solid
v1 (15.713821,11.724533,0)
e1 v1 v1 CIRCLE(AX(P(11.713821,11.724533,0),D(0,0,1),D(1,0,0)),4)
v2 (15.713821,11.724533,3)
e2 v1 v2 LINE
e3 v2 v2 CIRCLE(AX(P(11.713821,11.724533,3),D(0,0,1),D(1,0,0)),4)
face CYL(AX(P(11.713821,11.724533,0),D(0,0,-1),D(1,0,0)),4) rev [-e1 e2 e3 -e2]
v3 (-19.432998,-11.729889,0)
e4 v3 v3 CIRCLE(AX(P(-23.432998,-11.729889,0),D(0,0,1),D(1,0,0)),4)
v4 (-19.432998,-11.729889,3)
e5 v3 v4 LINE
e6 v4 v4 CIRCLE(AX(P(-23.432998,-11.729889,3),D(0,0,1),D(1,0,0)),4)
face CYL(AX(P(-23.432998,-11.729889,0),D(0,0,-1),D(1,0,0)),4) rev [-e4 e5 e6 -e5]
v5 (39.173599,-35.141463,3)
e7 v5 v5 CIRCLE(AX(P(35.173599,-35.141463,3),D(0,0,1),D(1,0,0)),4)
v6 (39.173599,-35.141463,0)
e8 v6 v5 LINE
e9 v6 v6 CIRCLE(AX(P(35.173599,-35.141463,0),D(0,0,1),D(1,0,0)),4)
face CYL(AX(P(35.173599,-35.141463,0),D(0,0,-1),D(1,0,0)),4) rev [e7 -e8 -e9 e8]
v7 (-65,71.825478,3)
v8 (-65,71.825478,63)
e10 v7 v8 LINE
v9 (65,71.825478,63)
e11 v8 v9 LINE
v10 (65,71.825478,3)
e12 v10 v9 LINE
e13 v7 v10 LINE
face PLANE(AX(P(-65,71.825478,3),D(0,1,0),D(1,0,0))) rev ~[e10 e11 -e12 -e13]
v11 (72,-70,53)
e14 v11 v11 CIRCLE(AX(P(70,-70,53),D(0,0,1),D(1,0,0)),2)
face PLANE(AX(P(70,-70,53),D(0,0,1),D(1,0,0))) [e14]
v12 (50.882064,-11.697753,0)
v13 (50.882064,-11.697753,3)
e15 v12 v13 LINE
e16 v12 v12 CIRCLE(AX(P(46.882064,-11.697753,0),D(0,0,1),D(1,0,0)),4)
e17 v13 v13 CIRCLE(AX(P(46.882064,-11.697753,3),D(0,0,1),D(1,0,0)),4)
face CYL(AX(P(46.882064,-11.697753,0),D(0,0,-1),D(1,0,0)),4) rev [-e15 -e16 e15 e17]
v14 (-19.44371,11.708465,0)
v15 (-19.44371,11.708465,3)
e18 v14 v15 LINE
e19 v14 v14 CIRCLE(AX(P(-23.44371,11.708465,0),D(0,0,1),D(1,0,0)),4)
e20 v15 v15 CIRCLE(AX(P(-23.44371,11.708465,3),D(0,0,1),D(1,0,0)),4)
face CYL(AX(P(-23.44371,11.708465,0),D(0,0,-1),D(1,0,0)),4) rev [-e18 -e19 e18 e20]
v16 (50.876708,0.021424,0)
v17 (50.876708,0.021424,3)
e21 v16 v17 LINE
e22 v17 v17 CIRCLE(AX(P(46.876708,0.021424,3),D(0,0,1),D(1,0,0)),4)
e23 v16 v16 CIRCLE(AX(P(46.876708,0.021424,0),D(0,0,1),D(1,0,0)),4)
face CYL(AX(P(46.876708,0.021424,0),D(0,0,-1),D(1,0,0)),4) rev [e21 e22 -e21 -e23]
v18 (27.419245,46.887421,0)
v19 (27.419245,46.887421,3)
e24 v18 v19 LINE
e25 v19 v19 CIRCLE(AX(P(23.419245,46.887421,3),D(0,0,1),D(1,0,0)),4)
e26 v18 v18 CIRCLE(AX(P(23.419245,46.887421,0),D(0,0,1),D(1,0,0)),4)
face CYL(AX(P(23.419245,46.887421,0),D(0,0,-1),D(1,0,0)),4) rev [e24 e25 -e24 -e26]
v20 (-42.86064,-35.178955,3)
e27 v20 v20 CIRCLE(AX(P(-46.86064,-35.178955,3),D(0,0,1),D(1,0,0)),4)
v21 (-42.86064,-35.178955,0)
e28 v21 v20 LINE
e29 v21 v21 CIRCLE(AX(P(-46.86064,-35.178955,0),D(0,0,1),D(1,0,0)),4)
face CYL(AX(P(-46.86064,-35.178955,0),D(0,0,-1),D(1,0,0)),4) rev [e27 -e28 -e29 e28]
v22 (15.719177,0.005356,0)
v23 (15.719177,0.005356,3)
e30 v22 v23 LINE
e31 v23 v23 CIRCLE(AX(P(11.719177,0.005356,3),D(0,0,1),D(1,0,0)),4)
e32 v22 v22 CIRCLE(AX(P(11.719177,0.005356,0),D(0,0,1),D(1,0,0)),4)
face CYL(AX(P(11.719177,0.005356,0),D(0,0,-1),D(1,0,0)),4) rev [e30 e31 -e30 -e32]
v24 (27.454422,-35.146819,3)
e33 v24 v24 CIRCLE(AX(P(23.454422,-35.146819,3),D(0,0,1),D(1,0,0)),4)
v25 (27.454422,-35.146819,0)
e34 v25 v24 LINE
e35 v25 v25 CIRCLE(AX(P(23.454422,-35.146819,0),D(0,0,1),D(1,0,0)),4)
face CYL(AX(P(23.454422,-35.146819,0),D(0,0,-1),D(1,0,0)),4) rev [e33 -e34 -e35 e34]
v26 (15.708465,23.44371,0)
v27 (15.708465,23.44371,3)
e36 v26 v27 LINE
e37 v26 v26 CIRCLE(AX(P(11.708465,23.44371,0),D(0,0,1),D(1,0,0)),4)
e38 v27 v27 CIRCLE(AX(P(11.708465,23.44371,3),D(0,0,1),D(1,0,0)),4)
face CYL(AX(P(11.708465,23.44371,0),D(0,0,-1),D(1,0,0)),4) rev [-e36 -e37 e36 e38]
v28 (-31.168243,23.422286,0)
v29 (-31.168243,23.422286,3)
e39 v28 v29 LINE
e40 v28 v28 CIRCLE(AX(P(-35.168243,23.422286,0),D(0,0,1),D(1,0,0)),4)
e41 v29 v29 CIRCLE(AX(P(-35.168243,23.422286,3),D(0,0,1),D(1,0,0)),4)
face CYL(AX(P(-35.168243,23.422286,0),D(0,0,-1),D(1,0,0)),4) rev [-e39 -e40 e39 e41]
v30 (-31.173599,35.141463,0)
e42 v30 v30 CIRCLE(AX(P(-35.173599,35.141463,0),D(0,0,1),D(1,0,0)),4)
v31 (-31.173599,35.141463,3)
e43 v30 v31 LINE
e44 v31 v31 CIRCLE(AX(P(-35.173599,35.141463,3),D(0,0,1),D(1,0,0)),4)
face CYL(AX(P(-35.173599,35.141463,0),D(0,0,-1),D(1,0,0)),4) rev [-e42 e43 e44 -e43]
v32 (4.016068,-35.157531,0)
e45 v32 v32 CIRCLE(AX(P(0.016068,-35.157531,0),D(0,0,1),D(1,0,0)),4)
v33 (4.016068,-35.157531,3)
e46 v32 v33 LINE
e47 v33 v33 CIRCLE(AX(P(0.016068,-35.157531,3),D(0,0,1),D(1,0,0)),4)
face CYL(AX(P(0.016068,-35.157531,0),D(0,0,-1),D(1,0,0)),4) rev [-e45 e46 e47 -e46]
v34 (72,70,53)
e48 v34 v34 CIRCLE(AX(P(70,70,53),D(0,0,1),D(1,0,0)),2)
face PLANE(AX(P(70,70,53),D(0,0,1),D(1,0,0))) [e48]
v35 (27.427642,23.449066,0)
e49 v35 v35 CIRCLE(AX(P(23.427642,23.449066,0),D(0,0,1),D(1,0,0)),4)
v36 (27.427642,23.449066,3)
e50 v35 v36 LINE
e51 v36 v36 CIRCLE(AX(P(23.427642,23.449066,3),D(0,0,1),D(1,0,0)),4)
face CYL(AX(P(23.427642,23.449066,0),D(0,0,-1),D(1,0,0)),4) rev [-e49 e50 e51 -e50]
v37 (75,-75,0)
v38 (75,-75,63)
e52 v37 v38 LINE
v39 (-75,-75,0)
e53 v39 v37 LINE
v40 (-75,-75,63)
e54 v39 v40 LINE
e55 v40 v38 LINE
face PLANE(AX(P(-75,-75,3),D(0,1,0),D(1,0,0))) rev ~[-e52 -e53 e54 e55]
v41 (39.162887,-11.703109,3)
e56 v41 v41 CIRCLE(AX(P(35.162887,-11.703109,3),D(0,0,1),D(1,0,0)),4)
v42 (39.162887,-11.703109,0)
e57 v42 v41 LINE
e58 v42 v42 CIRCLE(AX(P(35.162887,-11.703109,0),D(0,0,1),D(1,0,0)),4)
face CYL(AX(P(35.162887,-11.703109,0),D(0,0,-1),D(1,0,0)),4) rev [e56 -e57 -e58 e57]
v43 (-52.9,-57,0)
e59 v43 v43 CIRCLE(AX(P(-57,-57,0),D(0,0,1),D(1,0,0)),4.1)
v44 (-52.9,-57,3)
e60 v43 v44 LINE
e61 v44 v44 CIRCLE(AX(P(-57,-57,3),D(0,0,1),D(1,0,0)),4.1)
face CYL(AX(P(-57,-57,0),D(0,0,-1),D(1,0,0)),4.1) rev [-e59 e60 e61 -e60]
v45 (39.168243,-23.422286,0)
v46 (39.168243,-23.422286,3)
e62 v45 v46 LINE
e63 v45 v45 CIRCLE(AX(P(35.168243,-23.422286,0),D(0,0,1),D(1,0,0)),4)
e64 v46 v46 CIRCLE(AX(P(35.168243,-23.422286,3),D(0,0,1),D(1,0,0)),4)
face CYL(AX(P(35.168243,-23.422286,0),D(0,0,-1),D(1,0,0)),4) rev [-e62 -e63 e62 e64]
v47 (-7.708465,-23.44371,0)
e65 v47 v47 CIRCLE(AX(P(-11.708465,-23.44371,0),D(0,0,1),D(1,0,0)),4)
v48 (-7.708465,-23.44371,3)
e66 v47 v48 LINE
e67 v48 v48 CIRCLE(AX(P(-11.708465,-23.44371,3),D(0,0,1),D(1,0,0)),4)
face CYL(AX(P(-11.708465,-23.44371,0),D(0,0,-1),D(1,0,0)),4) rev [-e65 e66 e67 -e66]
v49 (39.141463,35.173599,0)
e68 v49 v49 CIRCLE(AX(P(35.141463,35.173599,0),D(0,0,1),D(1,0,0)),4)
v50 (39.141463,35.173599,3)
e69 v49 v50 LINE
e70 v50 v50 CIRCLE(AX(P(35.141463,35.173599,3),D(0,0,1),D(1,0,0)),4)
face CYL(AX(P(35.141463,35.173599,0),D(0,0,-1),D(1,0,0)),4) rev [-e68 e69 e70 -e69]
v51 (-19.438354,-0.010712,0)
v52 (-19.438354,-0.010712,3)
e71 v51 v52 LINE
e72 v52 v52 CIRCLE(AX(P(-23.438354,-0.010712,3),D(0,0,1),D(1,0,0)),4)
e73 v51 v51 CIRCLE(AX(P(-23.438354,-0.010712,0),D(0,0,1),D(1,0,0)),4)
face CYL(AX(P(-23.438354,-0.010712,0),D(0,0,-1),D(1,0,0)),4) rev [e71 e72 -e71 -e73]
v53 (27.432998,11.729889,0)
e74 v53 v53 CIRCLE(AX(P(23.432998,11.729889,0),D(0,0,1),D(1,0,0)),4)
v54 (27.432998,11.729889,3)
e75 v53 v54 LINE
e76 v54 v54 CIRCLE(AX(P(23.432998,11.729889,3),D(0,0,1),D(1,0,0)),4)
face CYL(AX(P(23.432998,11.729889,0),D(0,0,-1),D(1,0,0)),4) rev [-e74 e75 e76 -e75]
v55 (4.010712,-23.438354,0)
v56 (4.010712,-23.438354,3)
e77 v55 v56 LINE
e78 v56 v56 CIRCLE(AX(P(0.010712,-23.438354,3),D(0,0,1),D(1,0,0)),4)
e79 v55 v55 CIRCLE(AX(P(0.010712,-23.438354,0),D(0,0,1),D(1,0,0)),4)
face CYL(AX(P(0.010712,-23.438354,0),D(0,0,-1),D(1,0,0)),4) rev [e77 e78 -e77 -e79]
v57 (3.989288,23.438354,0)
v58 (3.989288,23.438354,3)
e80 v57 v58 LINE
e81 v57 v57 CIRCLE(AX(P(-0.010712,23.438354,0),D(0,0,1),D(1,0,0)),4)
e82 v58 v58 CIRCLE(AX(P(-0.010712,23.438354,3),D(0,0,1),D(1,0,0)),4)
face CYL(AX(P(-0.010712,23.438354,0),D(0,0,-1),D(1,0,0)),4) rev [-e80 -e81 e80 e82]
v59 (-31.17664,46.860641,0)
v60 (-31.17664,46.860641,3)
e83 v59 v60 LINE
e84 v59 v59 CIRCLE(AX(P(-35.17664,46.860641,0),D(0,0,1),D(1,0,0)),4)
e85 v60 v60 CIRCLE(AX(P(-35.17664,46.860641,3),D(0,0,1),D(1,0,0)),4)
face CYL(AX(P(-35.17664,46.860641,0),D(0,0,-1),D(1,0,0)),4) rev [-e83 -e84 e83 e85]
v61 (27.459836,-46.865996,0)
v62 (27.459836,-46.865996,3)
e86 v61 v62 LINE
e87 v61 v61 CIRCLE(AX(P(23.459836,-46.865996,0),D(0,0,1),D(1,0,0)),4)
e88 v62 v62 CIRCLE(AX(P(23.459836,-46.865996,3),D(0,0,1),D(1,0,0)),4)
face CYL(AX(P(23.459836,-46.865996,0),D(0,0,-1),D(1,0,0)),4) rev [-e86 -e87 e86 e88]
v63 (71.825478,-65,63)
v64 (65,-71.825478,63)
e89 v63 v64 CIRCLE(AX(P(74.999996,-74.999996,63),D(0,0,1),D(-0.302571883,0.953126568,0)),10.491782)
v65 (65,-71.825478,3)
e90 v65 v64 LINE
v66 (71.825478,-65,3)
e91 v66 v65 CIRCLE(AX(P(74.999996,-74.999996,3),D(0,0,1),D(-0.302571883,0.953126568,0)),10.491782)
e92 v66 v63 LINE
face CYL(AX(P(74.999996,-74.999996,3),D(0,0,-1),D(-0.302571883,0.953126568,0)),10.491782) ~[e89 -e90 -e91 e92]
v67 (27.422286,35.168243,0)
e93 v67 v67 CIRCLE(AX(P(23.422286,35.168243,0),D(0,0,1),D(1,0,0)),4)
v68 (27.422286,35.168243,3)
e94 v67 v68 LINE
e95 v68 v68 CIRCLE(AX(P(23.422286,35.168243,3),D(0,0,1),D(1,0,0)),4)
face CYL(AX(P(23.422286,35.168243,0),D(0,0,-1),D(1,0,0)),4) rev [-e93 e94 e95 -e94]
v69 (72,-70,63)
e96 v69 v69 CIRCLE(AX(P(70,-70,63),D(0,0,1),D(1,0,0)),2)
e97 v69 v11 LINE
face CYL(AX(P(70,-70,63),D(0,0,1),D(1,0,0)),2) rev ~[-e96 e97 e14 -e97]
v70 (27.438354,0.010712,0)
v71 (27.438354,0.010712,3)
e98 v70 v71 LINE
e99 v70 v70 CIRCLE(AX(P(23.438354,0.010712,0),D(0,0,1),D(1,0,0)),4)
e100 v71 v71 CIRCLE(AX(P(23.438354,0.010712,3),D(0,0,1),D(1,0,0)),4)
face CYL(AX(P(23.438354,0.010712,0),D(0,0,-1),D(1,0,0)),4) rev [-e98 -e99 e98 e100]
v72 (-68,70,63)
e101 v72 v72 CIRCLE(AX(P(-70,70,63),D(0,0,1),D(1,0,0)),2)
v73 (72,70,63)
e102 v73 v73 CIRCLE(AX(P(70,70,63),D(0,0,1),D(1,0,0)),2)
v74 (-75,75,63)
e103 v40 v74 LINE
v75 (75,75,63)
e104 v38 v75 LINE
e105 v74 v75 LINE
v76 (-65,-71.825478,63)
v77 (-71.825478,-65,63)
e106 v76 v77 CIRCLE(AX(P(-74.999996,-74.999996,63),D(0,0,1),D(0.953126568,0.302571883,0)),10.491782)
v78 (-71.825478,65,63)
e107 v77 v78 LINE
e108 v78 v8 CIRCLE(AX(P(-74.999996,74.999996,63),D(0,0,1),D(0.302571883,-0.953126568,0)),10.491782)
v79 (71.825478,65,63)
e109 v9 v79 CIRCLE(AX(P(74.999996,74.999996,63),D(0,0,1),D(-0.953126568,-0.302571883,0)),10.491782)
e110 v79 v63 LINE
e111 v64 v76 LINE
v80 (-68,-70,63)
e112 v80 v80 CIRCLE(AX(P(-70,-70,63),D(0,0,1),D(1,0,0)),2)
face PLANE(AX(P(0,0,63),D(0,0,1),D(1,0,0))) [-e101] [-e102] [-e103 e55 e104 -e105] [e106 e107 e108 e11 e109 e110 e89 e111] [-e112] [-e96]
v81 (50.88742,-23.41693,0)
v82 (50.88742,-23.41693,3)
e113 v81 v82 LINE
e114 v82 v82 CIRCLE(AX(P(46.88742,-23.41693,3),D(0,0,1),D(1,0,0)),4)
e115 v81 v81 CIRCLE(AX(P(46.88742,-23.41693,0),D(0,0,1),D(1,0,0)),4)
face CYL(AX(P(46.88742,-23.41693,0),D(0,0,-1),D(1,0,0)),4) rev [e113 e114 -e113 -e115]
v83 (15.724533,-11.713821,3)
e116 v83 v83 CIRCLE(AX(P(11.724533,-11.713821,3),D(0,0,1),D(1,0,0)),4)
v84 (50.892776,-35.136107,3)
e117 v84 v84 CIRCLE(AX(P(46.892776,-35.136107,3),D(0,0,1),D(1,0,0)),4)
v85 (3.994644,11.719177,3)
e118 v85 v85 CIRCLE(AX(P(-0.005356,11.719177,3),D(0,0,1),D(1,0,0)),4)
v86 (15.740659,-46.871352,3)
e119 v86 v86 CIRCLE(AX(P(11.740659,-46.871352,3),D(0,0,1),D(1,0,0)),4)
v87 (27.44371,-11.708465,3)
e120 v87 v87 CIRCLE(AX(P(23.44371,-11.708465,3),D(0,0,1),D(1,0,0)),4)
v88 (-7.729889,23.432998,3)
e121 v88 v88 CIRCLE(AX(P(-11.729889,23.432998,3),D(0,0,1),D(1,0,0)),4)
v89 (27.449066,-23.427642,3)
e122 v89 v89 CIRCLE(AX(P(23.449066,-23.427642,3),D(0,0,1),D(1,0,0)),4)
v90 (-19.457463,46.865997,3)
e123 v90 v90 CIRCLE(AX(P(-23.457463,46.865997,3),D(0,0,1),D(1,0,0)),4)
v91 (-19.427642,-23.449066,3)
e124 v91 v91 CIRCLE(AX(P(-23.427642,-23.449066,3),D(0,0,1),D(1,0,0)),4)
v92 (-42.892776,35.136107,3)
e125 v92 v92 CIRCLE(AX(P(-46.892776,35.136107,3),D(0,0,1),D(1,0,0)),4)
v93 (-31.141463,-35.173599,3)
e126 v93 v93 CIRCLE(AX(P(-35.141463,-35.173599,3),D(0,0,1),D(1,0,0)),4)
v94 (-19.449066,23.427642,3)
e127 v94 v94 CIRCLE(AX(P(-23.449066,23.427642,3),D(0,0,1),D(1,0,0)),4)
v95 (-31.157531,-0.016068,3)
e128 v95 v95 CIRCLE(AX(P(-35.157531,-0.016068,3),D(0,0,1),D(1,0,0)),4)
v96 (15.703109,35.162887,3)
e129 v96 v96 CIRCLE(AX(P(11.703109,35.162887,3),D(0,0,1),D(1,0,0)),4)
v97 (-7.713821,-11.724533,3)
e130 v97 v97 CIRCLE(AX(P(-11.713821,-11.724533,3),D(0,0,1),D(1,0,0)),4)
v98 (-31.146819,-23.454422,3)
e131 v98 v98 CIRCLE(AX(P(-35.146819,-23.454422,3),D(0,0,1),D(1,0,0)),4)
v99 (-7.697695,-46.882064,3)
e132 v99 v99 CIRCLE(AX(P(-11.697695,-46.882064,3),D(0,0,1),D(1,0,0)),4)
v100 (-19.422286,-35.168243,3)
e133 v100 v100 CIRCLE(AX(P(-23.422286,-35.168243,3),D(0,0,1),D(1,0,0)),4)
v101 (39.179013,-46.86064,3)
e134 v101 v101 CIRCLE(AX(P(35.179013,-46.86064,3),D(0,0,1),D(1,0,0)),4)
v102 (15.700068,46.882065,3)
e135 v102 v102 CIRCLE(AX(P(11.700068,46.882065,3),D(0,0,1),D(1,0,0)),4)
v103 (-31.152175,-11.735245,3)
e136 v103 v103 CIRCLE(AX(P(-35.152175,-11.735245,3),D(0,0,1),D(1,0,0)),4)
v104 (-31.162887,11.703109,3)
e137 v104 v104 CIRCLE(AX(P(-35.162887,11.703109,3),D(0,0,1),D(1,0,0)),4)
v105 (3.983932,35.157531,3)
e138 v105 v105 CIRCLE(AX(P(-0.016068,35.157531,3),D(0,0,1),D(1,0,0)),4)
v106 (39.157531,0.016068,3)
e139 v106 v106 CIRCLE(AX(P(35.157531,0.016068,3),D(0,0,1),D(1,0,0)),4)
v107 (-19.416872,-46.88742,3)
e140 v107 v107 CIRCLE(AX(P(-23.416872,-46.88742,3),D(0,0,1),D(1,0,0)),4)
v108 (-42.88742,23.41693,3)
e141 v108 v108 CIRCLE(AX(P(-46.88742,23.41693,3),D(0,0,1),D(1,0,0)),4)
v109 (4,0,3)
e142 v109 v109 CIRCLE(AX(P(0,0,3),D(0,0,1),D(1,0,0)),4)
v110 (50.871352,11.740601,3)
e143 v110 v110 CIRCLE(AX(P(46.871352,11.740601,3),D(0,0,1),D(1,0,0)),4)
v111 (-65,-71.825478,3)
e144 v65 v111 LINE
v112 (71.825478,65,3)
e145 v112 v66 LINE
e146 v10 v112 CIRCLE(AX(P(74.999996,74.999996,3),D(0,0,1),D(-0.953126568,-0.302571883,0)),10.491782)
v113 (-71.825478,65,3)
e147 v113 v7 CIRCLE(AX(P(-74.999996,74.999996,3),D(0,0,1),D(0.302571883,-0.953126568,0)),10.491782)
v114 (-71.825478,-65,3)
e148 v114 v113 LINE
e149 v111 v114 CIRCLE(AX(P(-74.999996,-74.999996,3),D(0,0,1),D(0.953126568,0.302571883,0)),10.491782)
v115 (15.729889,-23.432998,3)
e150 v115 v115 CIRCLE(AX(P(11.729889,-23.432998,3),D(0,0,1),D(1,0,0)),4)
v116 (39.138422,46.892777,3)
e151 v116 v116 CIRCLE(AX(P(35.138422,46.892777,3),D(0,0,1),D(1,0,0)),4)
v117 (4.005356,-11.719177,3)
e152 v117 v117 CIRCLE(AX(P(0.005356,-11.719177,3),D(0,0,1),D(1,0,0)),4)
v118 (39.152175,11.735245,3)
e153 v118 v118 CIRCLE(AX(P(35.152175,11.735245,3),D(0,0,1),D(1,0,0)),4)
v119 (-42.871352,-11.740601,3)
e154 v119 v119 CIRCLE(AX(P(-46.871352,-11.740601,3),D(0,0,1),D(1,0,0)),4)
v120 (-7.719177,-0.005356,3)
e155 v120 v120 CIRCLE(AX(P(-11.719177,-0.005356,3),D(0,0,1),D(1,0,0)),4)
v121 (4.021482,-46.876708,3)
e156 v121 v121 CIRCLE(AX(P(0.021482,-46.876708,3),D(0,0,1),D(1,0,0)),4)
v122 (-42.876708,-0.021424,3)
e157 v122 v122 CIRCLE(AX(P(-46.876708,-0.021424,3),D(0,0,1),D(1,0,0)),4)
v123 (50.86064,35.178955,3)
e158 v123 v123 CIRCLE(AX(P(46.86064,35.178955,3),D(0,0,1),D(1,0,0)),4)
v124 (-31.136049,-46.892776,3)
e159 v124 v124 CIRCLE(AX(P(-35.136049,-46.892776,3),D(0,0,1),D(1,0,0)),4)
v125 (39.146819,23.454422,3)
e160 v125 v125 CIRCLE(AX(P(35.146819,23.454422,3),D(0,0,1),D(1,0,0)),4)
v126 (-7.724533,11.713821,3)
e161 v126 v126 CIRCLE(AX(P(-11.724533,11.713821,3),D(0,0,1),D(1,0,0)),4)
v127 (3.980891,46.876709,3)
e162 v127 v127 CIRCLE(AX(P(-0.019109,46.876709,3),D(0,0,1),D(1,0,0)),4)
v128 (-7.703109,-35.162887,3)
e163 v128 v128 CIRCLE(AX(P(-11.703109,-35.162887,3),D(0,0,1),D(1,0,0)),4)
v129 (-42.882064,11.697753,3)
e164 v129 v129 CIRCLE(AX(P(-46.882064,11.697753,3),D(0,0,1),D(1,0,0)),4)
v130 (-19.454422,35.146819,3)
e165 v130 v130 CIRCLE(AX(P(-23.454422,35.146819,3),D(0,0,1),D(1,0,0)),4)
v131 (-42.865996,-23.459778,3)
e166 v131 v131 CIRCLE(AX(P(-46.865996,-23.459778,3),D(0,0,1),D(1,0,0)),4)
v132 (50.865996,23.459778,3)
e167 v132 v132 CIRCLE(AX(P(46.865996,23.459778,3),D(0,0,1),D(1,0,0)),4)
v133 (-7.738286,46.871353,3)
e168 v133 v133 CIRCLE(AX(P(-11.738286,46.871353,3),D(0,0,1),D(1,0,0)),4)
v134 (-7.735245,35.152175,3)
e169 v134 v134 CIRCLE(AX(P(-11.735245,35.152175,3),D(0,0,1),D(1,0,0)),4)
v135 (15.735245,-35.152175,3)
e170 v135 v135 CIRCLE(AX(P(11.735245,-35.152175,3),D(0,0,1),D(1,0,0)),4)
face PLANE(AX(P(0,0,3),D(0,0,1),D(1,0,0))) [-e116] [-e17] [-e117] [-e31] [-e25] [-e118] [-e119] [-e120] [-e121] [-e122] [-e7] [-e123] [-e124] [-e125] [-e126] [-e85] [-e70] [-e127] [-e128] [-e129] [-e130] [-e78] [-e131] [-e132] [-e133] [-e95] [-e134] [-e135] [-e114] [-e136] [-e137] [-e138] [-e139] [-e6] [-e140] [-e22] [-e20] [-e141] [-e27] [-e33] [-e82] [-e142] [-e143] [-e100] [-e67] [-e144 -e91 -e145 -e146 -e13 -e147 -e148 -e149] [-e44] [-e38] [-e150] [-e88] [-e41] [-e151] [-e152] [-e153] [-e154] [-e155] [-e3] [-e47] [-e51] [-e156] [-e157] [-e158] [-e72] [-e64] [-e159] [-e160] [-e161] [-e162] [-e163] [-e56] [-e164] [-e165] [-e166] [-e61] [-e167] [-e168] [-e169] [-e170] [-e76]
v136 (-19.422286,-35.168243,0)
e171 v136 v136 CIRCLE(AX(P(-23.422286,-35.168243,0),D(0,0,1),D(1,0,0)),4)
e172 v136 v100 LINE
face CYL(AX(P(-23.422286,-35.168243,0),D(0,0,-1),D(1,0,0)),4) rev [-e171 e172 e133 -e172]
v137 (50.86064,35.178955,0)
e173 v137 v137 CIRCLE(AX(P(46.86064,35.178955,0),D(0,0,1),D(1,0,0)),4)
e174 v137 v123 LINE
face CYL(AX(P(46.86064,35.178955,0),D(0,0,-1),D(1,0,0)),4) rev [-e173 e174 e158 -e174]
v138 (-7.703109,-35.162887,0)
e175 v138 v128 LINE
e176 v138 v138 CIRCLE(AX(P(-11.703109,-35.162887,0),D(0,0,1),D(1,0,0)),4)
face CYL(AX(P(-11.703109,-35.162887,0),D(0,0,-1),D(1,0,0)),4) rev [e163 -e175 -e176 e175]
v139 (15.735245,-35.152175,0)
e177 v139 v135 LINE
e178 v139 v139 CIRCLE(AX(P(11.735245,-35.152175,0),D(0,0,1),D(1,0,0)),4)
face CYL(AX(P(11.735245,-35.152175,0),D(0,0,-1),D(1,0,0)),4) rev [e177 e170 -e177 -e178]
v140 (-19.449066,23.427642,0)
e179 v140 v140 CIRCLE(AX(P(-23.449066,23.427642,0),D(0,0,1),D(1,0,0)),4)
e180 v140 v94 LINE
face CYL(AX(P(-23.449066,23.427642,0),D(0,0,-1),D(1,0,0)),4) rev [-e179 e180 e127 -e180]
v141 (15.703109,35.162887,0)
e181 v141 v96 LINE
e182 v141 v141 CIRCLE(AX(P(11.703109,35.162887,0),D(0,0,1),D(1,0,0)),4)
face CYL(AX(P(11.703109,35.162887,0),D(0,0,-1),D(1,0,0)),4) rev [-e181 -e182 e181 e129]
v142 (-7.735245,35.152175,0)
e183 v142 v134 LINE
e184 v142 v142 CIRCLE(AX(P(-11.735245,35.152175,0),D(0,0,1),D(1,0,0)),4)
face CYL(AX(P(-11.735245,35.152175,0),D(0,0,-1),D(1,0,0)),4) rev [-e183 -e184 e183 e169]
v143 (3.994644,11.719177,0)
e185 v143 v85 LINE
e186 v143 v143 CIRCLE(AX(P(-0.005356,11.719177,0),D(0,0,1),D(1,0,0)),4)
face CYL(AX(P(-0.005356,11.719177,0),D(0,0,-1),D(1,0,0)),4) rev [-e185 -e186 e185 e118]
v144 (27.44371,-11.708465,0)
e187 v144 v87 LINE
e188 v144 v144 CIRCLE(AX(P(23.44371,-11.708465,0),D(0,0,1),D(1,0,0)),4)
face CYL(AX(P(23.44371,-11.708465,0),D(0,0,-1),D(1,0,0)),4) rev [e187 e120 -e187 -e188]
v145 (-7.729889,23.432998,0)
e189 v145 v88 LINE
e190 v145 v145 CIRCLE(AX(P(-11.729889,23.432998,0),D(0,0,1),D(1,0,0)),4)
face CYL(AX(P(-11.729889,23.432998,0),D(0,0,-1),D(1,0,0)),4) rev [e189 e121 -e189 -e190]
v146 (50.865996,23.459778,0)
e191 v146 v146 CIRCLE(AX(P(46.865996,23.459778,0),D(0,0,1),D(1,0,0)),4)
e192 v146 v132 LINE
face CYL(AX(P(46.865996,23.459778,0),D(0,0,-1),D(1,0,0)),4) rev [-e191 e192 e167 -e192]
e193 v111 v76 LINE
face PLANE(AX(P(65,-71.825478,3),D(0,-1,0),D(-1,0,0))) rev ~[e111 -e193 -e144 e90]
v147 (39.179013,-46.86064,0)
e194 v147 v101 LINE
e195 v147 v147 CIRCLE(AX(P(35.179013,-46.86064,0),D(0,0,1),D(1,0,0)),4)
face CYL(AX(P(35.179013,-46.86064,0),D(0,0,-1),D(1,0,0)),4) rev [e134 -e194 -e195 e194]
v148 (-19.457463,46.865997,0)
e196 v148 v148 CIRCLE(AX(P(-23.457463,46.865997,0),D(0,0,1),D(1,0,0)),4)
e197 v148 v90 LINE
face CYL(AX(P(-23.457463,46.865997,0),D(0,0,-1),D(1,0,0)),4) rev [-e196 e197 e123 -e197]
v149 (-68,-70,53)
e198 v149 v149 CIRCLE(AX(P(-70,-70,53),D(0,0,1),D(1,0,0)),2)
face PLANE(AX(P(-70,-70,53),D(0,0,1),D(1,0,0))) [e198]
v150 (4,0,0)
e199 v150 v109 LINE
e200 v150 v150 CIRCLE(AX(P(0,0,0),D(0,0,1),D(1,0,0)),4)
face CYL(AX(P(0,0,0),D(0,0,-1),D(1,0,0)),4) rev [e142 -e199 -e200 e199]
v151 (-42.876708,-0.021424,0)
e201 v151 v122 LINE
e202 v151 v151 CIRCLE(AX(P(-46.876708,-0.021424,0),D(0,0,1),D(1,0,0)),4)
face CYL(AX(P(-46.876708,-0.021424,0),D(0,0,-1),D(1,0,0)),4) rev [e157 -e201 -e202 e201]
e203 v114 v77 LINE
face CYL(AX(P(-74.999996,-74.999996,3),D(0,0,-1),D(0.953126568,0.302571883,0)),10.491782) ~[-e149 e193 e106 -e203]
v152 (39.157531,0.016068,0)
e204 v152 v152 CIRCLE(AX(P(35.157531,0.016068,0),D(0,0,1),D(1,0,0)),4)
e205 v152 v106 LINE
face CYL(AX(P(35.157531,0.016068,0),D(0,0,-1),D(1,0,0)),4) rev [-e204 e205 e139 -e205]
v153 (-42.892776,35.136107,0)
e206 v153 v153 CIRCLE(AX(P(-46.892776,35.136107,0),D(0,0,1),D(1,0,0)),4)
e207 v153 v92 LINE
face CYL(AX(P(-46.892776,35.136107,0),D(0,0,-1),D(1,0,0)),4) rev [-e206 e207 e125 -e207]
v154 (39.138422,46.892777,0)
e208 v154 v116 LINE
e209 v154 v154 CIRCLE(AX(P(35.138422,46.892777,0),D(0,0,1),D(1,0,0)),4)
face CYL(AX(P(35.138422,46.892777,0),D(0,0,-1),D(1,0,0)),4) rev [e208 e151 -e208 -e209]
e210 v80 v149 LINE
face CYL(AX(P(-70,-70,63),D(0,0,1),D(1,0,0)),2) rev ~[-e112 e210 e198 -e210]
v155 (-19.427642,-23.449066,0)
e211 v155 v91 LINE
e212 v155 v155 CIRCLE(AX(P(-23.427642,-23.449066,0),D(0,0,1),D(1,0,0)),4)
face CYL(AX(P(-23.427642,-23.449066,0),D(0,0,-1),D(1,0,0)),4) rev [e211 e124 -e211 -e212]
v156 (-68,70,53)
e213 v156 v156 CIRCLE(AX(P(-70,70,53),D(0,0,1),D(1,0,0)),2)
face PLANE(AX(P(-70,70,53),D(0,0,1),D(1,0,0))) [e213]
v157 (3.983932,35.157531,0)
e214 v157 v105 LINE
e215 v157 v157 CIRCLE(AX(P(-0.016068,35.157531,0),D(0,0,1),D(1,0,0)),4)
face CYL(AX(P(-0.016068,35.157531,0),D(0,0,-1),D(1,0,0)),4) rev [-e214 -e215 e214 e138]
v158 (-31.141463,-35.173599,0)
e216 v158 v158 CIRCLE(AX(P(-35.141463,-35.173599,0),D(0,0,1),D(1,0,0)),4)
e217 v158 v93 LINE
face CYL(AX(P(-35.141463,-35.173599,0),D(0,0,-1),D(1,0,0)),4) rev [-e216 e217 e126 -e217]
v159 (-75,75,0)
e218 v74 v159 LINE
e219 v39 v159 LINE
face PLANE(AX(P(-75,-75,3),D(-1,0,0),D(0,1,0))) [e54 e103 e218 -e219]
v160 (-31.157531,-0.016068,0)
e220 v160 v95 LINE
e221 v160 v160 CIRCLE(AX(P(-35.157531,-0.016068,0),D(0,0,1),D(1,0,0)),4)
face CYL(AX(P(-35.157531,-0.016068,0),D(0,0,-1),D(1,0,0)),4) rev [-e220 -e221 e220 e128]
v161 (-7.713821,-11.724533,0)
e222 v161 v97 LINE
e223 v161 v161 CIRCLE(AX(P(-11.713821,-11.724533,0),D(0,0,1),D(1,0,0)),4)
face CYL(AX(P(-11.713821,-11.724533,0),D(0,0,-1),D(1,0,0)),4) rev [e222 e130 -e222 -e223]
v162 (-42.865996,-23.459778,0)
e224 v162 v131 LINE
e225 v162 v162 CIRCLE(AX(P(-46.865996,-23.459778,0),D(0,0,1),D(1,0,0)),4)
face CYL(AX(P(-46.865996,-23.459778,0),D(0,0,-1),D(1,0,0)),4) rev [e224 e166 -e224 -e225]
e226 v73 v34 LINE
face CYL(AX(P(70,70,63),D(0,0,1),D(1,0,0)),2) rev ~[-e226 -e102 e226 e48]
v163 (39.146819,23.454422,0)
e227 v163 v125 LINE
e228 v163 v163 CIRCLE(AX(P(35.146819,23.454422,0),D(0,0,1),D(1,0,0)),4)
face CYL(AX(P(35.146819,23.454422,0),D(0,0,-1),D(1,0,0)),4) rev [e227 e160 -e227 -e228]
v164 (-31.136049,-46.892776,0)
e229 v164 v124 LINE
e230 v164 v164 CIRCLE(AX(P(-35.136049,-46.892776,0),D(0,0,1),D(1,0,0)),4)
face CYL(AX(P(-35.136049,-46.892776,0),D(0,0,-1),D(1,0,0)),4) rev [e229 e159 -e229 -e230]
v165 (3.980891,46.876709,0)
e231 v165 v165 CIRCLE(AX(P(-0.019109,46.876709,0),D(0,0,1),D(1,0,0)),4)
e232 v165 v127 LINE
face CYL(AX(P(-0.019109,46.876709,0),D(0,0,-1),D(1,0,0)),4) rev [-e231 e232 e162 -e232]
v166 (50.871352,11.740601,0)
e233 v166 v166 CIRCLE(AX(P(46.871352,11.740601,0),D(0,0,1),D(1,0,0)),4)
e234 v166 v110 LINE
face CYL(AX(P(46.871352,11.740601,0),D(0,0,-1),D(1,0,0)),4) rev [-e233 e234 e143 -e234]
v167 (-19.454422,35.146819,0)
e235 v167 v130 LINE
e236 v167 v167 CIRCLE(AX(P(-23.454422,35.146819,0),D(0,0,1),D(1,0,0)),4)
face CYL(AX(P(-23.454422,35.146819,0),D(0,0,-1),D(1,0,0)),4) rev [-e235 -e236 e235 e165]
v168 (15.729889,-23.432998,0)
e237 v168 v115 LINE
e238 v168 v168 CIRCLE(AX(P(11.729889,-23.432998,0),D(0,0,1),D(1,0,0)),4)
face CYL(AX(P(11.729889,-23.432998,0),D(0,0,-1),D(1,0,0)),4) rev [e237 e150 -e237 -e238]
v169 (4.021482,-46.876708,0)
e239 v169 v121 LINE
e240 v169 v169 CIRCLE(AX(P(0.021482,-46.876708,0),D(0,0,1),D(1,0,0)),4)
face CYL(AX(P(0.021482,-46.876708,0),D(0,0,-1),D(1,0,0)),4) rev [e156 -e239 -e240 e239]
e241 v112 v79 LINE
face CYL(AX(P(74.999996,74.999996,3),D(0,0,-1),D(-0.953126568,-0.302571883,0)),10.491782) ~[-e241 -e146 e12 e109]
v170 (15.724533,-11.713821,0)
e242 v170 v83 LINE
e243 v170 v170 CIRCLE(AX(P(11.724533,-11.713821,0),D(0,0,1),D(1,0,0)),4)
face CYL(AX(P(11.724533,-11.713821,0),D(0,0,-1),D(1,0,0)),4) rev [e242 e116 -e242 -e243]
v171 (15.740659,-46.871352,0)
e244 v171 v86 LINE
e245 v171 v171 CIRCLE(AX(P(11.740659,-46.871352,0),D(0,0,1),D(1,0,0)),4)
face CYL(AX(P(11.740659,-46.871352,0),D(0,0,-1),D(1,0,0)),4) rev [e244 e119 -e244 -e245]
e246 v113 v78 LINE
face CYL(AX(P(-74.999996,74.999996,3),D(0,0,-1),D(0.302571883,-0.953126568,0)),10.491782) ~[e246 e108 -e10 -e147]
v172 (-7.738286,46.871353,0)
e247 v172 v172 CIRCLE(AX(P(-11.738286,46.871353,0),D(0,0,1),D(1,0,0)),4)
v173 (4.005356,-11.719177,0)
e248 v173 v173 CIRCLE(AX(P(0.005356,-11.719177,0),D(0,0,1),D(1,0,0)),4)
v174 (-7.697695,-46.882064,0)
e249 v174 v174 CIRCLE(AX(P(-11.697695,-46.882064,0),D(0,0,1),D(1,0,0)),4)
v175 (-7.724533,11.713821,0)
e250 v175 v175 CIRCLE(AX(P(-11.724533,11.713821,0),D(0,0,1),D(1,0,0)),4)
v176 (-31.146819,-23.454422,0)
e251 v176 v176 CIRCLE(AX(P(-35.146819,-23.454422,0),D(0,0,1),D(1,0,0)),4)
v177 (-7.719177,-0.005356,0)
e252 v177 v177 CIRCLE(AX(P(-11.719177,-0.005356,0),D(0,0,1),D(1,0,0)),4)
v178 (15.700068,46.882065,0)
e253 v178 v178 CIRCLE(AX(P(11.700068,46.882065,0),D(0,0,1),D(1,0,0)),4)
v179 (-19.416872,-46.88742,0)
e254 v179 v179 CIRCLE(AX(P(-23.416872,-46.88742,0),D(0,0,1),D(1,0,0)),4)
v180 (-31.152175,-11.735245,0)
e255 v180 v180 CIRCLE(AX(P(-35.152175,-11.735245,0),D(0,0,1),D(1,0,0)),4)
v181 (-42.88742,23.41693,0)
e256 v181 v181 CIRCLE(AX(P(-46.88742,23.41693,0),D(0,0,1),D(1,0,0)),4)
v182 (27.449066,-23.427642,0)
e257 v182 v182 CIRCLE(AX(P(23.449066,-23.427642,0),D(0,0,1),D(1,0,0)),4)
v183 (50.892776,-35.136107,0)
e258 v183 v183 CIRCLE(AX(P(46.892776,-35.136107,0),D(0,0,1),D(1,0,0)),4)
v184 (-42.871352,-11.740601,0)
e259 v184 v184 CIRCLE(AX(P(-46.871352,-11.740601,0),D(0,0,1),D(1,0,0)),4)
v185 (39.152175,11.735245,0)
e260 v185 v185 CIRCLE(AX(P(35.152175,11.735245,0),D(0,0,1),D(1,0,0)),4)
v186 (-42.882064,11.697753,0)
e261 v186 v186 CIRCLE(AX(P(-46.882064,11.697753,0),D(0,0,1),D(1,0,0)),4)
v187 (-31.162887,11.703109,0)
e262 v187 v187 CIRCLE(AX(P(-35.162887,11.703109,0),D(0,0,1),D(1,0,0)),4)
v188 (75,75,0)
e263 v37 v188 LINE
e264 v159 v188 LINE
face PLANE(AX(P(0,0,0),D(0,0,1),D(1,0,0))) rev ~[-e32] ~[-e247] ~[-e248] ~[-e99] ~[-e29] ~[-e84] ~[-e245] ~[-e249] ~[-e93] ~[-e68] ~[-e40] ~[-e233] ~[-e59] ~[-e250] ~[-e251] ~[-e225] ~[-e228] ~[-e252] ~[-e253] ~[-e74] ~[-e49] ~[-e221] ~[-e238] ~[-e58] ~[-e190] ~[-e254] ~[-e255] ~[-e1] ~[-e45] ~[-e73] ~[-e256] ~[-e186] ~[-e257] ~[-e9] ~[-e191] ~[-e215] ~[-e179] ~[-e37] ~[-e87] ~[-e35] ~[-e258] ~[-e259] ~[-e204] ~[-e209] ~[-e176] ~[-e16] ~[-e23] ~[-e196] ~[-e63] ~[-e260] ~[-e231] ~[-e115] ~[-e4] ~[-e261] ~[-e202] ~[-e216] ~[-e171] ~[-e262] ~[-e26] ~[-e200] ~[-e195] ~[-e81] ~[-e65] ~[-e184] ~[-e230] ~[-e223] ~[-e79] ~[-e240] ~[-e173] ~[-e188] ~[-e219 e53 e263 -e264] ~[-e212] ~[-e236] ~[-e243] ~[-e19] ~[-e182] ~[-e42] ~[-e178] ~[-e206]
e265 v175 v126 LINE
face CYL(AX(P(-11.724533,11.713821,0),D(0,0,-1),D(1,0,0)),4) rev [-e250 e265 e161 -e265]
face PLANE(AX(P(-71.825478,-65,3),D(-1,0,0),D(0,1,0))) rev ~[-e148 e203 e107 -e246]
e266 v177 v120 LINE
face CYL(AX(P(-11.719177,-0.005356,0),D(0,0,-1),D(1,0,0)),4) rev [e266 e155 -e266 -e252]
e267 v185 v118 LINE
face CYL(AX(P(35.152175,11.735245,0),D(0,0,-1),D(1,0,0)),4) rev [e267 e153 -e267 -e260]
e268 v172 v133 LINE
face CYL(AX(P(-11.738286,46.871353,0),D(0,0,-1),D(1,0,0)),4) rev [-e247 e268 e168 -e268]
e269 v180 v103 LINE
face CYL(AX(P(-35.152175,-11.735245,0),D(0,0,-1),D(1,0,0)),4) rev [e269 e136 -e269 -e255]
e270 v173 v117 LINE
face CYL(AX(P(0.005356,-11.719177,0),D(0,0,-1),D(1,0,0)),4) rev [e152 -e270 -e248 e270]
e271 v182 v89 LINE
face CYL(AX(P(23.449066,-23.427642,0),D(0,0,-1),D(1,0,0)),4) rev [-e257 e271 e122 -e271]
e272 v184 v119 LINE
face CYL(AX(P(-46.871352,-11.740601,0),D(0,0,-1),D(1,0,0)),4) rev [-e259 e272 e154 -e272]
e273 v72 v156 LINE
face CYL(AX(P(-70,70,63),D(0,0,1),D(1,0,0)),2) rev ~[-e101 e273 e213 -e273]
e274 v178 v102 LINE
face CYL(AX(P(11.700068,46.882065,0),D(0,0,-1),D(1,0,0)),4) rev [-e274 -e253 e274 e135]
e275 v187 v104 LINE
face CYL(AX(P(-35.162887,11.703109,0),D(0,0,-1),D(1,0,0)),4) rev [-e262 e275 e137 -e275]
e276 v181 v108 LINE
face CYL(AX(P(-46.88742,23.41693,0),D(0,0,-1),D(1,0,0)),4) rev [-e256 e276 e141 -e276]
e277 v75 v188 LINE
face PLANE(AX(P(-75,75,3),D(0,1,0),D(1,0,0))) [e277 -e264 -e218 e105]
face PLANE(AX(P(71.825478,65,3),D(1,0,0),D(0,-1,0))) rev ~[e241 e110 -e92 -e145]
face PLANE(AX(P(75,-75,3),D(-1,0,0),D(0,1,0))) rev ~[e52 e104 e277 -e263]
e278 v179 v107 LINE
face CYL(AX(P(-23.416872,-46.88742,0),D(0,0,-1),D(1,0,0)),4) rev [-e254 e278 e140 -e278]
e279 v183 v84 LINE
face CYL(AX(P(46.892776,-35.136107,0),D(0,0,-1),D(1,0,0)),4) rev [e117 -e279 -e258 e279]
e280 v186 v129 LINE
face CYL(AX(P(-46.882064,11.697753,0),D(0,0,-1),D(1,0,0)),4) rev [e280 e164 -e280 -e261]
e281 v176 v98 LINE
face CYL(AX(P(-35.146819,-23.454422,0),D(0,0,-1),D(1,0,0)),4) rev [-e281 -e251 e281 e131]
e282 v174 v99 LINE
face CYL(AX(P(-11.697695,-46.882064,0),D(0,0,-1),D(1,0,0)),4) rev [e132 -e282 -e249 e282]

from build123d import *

# Parameters (mm, degrees)
SKETCH_W     = 150
SKETCH_H     = 150
SKETCH_R     = 4
SKETCH_R_2   = 4.1
PAD_DEPTH    = 3
SKETCH001_W  = 150
SKETCH001_H  = 150
PAD001_DEPTH = 60
SKETCH002_R  = 2
POCKET_DEPTH = 10


with BuildPart() as part:
    # Sketch → Pad (new body)
    with BuildSketch(Plane.XY):
        Rectangle(SKETCH_W, SKETCH_H)
        with Locations((-35.17664, 46.860641)):
            Circle(SKETCH_R, mode=Mode.SUBTRACT)
        with Locations((-23.457463, 46.865997)):
            Circle(SKETCH_R, mode=Mode.SUBTRACT)
        with Locations((-11.738286, 46.871353)):
            Circle(SKETCH_R, mode=Mode.SUBTRACT)
        with Locations((-0.019109, 46.876709)):
            Circle(SKETCH_R, mode=Mode.SUBTRACT)
        with Locations((11.700068, 46.882065)):
            Circle(SKETCH_R, mode=Mode.SUBTRACT)
        with Locations((23.419245, 46.887421)):
            Circle(SKETCH_R, mode=Mode.SUBTRACT)
        with Locations((35.138422, 46.892777)):
            Circle(SKETCH_R, mode=Mode.SUBTRACT)
        with Locations((-46.892776, 35.136107)):
            Circle(SKETCH_R, mode=Mode.SUBTRACT)
        with Locations((-35.173599, 35.141463)):
            Circle(SKETCH_R, mode=Mode.SUBTRACT)
        with Locations((-23.454422, 35.146819)):
            Circle(SKETCH_R, mode=Mode.SUBTRACT)
        with Locations((-11.735245, 35.152175)):
            Circle(SKETCH_R, mode=Mode.SUBTRACT)
        with Locations((-0.016068, 35.157531)):
            Circle(SKETCH_R, mode=Mode.SUBTRACT)
        with Locations((11.703109, 35.162887)):
            Circle(SKETCH_R, mode=Mode.SUBTRACT)
        with Locations((23.422286, 35.168243)):
            Circle(SKETCH_R, mode=Mode.SUBTRACT)
        with Locations((35.141463, 35.173599)):
            Circle(SKETCH_R, mode=Mode.SUBTRACT)
        with Locations((46.86064, 35.178955)):
            Circle(SKETCH_R, mode=Mode.SUBTRACT)
        with Locations((-46.88742, 23.41693)):
            Circle(SKETCH_R, mode=Mode.SUBTRACT)
        with Locations((-35.168243, 23.422286)):
            Circle(SKETCH_R, mode=Mode.SUBTRACT)
        with Locations((-23.449066, 23.427642)):
            Circle(SKETCH_R, mode=Mode.SUBTRACT)
        with Locations((-11.729889, 23.432998)):
            Circle(SKETCH_R, mode=Mode.SUBTRACT)
        with Locations((-0.010712, 23.438354)):
            Circle(SKETCH_R, mode=Mode.SUBTRACT)
        with Locations((11.708465, 23.44371)):
            Circle(SKETCH_R, mode=Mode.SUBTRACT)
        with Locations((23.427642, 23.449066)):
            Circle(SKETCH_R, mode=Mode.SUBTRACT)
        with Locations((35.146819, 23.454422)):
            Circle(SKETCH_R, mode=Mode.SUBTRACT)
        with Locations((46.865996, 23.459778)):
            Circle(SKETCH_R, mode=Mode.SUBTRACT)
        with Locations((-46.882064, 11.697753)):
            Circle(SKETCH_R, mode=Mode.SUBTRACT)
        with Locations((-35.162887, 11.703109)):
            Circle(SKETCH_R, mode=Mode.SUBTRACT)
        with Locations((-23.44371, 11.708465)):
            Circle(SKETCH_R, mode=Mode.SUBTRACT)
        with Locations((-11.724533, 11.713821)):
            Circle(SKETCH_R, mode=Mode.SUBTRACT)
        with Locations((-0.005356, 11.719177)):
            Circle(SKETCH_R, mode=Mode.SUBTRACT)
        with Locations((11.713821, 11.724533)):
            Circle(SKETCH_R, mode=Mode.SUBTRACT)
        with Locations((23.432998, 11.729889)):
            Circle(SKETCH_R, mode=Mode.SUBTRACT)
        with Locations((35.152175, 11.735245)):
            Circle(SKETCH_R, mode=Mode.SUBTRACT)
        with Locations((46.871352, 11.740601)):
            Circle(SKETCH_R, mode=Mode.SUBTRACT)
        with Locations((-46.876708, -0.021424)):
            Circle(SKETCH_R, mode=Mode.SUBTRACT)
        with Locations((-35.157531, -0.016068)):
            Circle(SKETCH_R, mode=Mode.SUBTRACT)
        with Locations((-23.438354, -0.010712)):
            Circle(SKETCH_R, mode=Mode.SUBTRACT)
        with Locations((-11.719177, -0.005356)):
            Circle(SKETCH_R, mode=Mode.SUBTRACT)
        Circle(SKETCH_R, mode=Mode.SUBTRACT)
        with Locations((11.719177, 0.005356)):
            Circle(SKETCH_R, mode=Mode.SUBTRACT)
        with Locations((23.438354, 0.010712)):
            Circle(SKETCH_R, mode=Mode.SUBTRACT)
        with Locations((35.157531, 0.016068)):
            Circle(SKETCH_R, mode=Mode.SUBTRACT)
        with Locations((46.876708, 0.021424)):
            Circle(SKETCH_R, mode=Mode.SUBTRACT)
        with Locations((-46.871352, -11.740601)):
            Circle(SKETCH_R, mode=Mode.SUBTRACT)
        with Locations((-35.152175, -11.735245)):
            Circle(SKETCH_R, mode=Mode.SUBTRACT)
        with Locations((-23.432998, -11.729889)):
            Circle(SKETCH_R, mode=Mode.SUBTRACT)
        with Locations((-11.713821, -11.724533)):
            Circle(SKETCH_R, mode=Mode.SUBTRACT)
        with Locations((0.005356, -11.719177)):
            Circle(SKETCH_R, mode=Mode.SUBTRACT)
        with Locations((11.724533, -11.713821)):
            Circle(SKETCH_R, mode=Mode.SUBTRACT)
        with Locations((23.44371, -11.708465)):
            Circle(SKETCH_R, mode=Mode.SUBTRACT)
        with Locations((35.162887, -11.703109)):
            Circle(SKETCH_R, mode=Mode.SUBTRACT)
        with Locations((46.882064, -11.697753)):
            Circle(SKETCH_R, mode=Mode.SUBTRACT)
        with Locations((-46.865996, -23.459778)):
            Circle(SKETCH_R, mode=Mode.SUBTRACT)
        with Locations((-35.146819, -23.454422)):
            Circle(SKETCH_R, mode=Mode.SUBTRACT)
        with Locations((-23.427642, -23.449066)):
            Circle(SKETCH_R, mode=Mode.SUBTRACT)
        with Locations((-11.708465, -23.44371)):
            Circle(SKETCH_R, mode=Mode.SUBTRACT)
        with Locations((0.010712, -23.438354)):
            Circle(SKETCH_R, mode=Mode.SUBTRACT)
        with Locations((11.729889, -23.432998)):
            Circle(SKETCH_R, mode=Mode.SUBTRACT)
        with Locations((23.449066, -23.427642)):
            Circle(SKETCH_R, mode=Mode.SUBTRACT)
        with Locations((35.168243, -23.422286)):
            Circle(SKETCH_R, mode=Mode.SUBTRACT)
        with Locations((46.88742, -23.41693)):
            Circle(SKETCH_R, mode=Mode.SUBTRACT)
        with Locations((-46.86064, -35.178955)):
            Circle(SKETCH_R, mode=Mode.SUBTRACT)
        with Locations((-35.141463, -35.173599)):
            Circle(SKETCH_R, mode=Mode.SUBTRACT)
        with Locations((-23.422286, -35.168243)):
            Circle(SKETCH_R, mode=Mode.SUBTRACT)
        with Locations((-11.703109, -35.162887)):
            Circle(SKETCH_R, mode=Mode.SUBTRACT)
        with Locations((0.016068, -35.157531)):
            Circle(SKETCH_R, mode=Mode.SUBTRACT)
        with Locations((11.735245, -35.152175)):
            Circle(SKETCH_R, mode=Mode.SUBTRACT)
        with Locations((23.454422, -35.146819)):
            Circle(SKETCH_R, mode=Mode.SUBTRACT)
        with Locations((35.173599, -35.141463)):
            Circle(SKETCH_R, mode=Mode.SUBTRACT)
        with Locations((46.892776, -35.136107)):
            Circle(SKETCH_R, mode=Mode.SUBTRACT)
        with Locations((-35.136049, -46.892776)):
            Circle(SKETCH_R, mode=Mode.SUBTRACT)
        with Locations((-23.416872, -46.88742)):
            Circle(SKETCH_R, mode=Mode.SUBTRACT)
        with Locations((-11.697695, -46.882064)):
            Circle(SKETCH_R, mode=Mode.SUBTRACT)
        with Locations((0.021482, -46.876708)):
            Circle(SKETCH_R, mode=Mode.SUBTRACT)
        with Locations((11.740659, -46.871352)):
            Circle(SKETCH_R, mode=Mode.SUBTRACT)
        with Locations((23.459836, -46.865996)):
            Circle(SKETCH_R, mode=Mode.SUBTRACT)
        with Locations((35.179013, -46.86064)):
            Circle(SKETCH_R, mode=Mode.SUBTRACT)
        with Locations((-57, -57)):
            Circle(SKETCH_R_2, mode=Mode.SUBTRACT)
    extrude(amount=PAD_DEPTH)

    # Sketch001 (on DatumPlane) → Pad001 (join)
    with BuildSketch(Plane.XY.offset(3)):
        Rectangle(SKETCH001_W, SKETCH001_H)
        with BuildLine():
            Line((-65, 71.825478), (65, 71.825478))
            ThreePointArc((65, 71.825478), (67.581186, 67.581186), (71.825478, 65))
            Line((71.825478, 65), (71.825478, -65))
            ThreePointArc((71.825478, -65), (67.581186, -67.581186), (65, -71.825478))
            Line((65, -71.825478), (-65, -71.825478))
            ThreePointArc((-65, -71.825478), (-67.581186, -67.581186), (-71.825478, -65))
            Line((-71.825478, -65), (-71.825478, 65))
            ThreePointArc((-71.825478, 65), (-67.581186, 67.581186), (-65, 71.825478))
        make_face(mode=Mode.SUBTRACT)
    extrude(amount=PAD001_DEPTH)

    # Sketch002 (on DatumPlane) → Pocket (cut)
    with BuildSketch(Plane.XY.offset(63)):
        with Locations((-70, 70)):
            Circle(SKETCH002_R)
        with Locations((70, 70)):
            Circle(SKETCH002_R)
        with Locations((-70, -70)):
            Circle(SKETCH002_R)
        with Locations((70, -70)):
            Circle(SKETCH002_R)
    extrude(amount=-POCKET_DEPTH, mode=Mode.SUBTRACT)


solid = part.part
